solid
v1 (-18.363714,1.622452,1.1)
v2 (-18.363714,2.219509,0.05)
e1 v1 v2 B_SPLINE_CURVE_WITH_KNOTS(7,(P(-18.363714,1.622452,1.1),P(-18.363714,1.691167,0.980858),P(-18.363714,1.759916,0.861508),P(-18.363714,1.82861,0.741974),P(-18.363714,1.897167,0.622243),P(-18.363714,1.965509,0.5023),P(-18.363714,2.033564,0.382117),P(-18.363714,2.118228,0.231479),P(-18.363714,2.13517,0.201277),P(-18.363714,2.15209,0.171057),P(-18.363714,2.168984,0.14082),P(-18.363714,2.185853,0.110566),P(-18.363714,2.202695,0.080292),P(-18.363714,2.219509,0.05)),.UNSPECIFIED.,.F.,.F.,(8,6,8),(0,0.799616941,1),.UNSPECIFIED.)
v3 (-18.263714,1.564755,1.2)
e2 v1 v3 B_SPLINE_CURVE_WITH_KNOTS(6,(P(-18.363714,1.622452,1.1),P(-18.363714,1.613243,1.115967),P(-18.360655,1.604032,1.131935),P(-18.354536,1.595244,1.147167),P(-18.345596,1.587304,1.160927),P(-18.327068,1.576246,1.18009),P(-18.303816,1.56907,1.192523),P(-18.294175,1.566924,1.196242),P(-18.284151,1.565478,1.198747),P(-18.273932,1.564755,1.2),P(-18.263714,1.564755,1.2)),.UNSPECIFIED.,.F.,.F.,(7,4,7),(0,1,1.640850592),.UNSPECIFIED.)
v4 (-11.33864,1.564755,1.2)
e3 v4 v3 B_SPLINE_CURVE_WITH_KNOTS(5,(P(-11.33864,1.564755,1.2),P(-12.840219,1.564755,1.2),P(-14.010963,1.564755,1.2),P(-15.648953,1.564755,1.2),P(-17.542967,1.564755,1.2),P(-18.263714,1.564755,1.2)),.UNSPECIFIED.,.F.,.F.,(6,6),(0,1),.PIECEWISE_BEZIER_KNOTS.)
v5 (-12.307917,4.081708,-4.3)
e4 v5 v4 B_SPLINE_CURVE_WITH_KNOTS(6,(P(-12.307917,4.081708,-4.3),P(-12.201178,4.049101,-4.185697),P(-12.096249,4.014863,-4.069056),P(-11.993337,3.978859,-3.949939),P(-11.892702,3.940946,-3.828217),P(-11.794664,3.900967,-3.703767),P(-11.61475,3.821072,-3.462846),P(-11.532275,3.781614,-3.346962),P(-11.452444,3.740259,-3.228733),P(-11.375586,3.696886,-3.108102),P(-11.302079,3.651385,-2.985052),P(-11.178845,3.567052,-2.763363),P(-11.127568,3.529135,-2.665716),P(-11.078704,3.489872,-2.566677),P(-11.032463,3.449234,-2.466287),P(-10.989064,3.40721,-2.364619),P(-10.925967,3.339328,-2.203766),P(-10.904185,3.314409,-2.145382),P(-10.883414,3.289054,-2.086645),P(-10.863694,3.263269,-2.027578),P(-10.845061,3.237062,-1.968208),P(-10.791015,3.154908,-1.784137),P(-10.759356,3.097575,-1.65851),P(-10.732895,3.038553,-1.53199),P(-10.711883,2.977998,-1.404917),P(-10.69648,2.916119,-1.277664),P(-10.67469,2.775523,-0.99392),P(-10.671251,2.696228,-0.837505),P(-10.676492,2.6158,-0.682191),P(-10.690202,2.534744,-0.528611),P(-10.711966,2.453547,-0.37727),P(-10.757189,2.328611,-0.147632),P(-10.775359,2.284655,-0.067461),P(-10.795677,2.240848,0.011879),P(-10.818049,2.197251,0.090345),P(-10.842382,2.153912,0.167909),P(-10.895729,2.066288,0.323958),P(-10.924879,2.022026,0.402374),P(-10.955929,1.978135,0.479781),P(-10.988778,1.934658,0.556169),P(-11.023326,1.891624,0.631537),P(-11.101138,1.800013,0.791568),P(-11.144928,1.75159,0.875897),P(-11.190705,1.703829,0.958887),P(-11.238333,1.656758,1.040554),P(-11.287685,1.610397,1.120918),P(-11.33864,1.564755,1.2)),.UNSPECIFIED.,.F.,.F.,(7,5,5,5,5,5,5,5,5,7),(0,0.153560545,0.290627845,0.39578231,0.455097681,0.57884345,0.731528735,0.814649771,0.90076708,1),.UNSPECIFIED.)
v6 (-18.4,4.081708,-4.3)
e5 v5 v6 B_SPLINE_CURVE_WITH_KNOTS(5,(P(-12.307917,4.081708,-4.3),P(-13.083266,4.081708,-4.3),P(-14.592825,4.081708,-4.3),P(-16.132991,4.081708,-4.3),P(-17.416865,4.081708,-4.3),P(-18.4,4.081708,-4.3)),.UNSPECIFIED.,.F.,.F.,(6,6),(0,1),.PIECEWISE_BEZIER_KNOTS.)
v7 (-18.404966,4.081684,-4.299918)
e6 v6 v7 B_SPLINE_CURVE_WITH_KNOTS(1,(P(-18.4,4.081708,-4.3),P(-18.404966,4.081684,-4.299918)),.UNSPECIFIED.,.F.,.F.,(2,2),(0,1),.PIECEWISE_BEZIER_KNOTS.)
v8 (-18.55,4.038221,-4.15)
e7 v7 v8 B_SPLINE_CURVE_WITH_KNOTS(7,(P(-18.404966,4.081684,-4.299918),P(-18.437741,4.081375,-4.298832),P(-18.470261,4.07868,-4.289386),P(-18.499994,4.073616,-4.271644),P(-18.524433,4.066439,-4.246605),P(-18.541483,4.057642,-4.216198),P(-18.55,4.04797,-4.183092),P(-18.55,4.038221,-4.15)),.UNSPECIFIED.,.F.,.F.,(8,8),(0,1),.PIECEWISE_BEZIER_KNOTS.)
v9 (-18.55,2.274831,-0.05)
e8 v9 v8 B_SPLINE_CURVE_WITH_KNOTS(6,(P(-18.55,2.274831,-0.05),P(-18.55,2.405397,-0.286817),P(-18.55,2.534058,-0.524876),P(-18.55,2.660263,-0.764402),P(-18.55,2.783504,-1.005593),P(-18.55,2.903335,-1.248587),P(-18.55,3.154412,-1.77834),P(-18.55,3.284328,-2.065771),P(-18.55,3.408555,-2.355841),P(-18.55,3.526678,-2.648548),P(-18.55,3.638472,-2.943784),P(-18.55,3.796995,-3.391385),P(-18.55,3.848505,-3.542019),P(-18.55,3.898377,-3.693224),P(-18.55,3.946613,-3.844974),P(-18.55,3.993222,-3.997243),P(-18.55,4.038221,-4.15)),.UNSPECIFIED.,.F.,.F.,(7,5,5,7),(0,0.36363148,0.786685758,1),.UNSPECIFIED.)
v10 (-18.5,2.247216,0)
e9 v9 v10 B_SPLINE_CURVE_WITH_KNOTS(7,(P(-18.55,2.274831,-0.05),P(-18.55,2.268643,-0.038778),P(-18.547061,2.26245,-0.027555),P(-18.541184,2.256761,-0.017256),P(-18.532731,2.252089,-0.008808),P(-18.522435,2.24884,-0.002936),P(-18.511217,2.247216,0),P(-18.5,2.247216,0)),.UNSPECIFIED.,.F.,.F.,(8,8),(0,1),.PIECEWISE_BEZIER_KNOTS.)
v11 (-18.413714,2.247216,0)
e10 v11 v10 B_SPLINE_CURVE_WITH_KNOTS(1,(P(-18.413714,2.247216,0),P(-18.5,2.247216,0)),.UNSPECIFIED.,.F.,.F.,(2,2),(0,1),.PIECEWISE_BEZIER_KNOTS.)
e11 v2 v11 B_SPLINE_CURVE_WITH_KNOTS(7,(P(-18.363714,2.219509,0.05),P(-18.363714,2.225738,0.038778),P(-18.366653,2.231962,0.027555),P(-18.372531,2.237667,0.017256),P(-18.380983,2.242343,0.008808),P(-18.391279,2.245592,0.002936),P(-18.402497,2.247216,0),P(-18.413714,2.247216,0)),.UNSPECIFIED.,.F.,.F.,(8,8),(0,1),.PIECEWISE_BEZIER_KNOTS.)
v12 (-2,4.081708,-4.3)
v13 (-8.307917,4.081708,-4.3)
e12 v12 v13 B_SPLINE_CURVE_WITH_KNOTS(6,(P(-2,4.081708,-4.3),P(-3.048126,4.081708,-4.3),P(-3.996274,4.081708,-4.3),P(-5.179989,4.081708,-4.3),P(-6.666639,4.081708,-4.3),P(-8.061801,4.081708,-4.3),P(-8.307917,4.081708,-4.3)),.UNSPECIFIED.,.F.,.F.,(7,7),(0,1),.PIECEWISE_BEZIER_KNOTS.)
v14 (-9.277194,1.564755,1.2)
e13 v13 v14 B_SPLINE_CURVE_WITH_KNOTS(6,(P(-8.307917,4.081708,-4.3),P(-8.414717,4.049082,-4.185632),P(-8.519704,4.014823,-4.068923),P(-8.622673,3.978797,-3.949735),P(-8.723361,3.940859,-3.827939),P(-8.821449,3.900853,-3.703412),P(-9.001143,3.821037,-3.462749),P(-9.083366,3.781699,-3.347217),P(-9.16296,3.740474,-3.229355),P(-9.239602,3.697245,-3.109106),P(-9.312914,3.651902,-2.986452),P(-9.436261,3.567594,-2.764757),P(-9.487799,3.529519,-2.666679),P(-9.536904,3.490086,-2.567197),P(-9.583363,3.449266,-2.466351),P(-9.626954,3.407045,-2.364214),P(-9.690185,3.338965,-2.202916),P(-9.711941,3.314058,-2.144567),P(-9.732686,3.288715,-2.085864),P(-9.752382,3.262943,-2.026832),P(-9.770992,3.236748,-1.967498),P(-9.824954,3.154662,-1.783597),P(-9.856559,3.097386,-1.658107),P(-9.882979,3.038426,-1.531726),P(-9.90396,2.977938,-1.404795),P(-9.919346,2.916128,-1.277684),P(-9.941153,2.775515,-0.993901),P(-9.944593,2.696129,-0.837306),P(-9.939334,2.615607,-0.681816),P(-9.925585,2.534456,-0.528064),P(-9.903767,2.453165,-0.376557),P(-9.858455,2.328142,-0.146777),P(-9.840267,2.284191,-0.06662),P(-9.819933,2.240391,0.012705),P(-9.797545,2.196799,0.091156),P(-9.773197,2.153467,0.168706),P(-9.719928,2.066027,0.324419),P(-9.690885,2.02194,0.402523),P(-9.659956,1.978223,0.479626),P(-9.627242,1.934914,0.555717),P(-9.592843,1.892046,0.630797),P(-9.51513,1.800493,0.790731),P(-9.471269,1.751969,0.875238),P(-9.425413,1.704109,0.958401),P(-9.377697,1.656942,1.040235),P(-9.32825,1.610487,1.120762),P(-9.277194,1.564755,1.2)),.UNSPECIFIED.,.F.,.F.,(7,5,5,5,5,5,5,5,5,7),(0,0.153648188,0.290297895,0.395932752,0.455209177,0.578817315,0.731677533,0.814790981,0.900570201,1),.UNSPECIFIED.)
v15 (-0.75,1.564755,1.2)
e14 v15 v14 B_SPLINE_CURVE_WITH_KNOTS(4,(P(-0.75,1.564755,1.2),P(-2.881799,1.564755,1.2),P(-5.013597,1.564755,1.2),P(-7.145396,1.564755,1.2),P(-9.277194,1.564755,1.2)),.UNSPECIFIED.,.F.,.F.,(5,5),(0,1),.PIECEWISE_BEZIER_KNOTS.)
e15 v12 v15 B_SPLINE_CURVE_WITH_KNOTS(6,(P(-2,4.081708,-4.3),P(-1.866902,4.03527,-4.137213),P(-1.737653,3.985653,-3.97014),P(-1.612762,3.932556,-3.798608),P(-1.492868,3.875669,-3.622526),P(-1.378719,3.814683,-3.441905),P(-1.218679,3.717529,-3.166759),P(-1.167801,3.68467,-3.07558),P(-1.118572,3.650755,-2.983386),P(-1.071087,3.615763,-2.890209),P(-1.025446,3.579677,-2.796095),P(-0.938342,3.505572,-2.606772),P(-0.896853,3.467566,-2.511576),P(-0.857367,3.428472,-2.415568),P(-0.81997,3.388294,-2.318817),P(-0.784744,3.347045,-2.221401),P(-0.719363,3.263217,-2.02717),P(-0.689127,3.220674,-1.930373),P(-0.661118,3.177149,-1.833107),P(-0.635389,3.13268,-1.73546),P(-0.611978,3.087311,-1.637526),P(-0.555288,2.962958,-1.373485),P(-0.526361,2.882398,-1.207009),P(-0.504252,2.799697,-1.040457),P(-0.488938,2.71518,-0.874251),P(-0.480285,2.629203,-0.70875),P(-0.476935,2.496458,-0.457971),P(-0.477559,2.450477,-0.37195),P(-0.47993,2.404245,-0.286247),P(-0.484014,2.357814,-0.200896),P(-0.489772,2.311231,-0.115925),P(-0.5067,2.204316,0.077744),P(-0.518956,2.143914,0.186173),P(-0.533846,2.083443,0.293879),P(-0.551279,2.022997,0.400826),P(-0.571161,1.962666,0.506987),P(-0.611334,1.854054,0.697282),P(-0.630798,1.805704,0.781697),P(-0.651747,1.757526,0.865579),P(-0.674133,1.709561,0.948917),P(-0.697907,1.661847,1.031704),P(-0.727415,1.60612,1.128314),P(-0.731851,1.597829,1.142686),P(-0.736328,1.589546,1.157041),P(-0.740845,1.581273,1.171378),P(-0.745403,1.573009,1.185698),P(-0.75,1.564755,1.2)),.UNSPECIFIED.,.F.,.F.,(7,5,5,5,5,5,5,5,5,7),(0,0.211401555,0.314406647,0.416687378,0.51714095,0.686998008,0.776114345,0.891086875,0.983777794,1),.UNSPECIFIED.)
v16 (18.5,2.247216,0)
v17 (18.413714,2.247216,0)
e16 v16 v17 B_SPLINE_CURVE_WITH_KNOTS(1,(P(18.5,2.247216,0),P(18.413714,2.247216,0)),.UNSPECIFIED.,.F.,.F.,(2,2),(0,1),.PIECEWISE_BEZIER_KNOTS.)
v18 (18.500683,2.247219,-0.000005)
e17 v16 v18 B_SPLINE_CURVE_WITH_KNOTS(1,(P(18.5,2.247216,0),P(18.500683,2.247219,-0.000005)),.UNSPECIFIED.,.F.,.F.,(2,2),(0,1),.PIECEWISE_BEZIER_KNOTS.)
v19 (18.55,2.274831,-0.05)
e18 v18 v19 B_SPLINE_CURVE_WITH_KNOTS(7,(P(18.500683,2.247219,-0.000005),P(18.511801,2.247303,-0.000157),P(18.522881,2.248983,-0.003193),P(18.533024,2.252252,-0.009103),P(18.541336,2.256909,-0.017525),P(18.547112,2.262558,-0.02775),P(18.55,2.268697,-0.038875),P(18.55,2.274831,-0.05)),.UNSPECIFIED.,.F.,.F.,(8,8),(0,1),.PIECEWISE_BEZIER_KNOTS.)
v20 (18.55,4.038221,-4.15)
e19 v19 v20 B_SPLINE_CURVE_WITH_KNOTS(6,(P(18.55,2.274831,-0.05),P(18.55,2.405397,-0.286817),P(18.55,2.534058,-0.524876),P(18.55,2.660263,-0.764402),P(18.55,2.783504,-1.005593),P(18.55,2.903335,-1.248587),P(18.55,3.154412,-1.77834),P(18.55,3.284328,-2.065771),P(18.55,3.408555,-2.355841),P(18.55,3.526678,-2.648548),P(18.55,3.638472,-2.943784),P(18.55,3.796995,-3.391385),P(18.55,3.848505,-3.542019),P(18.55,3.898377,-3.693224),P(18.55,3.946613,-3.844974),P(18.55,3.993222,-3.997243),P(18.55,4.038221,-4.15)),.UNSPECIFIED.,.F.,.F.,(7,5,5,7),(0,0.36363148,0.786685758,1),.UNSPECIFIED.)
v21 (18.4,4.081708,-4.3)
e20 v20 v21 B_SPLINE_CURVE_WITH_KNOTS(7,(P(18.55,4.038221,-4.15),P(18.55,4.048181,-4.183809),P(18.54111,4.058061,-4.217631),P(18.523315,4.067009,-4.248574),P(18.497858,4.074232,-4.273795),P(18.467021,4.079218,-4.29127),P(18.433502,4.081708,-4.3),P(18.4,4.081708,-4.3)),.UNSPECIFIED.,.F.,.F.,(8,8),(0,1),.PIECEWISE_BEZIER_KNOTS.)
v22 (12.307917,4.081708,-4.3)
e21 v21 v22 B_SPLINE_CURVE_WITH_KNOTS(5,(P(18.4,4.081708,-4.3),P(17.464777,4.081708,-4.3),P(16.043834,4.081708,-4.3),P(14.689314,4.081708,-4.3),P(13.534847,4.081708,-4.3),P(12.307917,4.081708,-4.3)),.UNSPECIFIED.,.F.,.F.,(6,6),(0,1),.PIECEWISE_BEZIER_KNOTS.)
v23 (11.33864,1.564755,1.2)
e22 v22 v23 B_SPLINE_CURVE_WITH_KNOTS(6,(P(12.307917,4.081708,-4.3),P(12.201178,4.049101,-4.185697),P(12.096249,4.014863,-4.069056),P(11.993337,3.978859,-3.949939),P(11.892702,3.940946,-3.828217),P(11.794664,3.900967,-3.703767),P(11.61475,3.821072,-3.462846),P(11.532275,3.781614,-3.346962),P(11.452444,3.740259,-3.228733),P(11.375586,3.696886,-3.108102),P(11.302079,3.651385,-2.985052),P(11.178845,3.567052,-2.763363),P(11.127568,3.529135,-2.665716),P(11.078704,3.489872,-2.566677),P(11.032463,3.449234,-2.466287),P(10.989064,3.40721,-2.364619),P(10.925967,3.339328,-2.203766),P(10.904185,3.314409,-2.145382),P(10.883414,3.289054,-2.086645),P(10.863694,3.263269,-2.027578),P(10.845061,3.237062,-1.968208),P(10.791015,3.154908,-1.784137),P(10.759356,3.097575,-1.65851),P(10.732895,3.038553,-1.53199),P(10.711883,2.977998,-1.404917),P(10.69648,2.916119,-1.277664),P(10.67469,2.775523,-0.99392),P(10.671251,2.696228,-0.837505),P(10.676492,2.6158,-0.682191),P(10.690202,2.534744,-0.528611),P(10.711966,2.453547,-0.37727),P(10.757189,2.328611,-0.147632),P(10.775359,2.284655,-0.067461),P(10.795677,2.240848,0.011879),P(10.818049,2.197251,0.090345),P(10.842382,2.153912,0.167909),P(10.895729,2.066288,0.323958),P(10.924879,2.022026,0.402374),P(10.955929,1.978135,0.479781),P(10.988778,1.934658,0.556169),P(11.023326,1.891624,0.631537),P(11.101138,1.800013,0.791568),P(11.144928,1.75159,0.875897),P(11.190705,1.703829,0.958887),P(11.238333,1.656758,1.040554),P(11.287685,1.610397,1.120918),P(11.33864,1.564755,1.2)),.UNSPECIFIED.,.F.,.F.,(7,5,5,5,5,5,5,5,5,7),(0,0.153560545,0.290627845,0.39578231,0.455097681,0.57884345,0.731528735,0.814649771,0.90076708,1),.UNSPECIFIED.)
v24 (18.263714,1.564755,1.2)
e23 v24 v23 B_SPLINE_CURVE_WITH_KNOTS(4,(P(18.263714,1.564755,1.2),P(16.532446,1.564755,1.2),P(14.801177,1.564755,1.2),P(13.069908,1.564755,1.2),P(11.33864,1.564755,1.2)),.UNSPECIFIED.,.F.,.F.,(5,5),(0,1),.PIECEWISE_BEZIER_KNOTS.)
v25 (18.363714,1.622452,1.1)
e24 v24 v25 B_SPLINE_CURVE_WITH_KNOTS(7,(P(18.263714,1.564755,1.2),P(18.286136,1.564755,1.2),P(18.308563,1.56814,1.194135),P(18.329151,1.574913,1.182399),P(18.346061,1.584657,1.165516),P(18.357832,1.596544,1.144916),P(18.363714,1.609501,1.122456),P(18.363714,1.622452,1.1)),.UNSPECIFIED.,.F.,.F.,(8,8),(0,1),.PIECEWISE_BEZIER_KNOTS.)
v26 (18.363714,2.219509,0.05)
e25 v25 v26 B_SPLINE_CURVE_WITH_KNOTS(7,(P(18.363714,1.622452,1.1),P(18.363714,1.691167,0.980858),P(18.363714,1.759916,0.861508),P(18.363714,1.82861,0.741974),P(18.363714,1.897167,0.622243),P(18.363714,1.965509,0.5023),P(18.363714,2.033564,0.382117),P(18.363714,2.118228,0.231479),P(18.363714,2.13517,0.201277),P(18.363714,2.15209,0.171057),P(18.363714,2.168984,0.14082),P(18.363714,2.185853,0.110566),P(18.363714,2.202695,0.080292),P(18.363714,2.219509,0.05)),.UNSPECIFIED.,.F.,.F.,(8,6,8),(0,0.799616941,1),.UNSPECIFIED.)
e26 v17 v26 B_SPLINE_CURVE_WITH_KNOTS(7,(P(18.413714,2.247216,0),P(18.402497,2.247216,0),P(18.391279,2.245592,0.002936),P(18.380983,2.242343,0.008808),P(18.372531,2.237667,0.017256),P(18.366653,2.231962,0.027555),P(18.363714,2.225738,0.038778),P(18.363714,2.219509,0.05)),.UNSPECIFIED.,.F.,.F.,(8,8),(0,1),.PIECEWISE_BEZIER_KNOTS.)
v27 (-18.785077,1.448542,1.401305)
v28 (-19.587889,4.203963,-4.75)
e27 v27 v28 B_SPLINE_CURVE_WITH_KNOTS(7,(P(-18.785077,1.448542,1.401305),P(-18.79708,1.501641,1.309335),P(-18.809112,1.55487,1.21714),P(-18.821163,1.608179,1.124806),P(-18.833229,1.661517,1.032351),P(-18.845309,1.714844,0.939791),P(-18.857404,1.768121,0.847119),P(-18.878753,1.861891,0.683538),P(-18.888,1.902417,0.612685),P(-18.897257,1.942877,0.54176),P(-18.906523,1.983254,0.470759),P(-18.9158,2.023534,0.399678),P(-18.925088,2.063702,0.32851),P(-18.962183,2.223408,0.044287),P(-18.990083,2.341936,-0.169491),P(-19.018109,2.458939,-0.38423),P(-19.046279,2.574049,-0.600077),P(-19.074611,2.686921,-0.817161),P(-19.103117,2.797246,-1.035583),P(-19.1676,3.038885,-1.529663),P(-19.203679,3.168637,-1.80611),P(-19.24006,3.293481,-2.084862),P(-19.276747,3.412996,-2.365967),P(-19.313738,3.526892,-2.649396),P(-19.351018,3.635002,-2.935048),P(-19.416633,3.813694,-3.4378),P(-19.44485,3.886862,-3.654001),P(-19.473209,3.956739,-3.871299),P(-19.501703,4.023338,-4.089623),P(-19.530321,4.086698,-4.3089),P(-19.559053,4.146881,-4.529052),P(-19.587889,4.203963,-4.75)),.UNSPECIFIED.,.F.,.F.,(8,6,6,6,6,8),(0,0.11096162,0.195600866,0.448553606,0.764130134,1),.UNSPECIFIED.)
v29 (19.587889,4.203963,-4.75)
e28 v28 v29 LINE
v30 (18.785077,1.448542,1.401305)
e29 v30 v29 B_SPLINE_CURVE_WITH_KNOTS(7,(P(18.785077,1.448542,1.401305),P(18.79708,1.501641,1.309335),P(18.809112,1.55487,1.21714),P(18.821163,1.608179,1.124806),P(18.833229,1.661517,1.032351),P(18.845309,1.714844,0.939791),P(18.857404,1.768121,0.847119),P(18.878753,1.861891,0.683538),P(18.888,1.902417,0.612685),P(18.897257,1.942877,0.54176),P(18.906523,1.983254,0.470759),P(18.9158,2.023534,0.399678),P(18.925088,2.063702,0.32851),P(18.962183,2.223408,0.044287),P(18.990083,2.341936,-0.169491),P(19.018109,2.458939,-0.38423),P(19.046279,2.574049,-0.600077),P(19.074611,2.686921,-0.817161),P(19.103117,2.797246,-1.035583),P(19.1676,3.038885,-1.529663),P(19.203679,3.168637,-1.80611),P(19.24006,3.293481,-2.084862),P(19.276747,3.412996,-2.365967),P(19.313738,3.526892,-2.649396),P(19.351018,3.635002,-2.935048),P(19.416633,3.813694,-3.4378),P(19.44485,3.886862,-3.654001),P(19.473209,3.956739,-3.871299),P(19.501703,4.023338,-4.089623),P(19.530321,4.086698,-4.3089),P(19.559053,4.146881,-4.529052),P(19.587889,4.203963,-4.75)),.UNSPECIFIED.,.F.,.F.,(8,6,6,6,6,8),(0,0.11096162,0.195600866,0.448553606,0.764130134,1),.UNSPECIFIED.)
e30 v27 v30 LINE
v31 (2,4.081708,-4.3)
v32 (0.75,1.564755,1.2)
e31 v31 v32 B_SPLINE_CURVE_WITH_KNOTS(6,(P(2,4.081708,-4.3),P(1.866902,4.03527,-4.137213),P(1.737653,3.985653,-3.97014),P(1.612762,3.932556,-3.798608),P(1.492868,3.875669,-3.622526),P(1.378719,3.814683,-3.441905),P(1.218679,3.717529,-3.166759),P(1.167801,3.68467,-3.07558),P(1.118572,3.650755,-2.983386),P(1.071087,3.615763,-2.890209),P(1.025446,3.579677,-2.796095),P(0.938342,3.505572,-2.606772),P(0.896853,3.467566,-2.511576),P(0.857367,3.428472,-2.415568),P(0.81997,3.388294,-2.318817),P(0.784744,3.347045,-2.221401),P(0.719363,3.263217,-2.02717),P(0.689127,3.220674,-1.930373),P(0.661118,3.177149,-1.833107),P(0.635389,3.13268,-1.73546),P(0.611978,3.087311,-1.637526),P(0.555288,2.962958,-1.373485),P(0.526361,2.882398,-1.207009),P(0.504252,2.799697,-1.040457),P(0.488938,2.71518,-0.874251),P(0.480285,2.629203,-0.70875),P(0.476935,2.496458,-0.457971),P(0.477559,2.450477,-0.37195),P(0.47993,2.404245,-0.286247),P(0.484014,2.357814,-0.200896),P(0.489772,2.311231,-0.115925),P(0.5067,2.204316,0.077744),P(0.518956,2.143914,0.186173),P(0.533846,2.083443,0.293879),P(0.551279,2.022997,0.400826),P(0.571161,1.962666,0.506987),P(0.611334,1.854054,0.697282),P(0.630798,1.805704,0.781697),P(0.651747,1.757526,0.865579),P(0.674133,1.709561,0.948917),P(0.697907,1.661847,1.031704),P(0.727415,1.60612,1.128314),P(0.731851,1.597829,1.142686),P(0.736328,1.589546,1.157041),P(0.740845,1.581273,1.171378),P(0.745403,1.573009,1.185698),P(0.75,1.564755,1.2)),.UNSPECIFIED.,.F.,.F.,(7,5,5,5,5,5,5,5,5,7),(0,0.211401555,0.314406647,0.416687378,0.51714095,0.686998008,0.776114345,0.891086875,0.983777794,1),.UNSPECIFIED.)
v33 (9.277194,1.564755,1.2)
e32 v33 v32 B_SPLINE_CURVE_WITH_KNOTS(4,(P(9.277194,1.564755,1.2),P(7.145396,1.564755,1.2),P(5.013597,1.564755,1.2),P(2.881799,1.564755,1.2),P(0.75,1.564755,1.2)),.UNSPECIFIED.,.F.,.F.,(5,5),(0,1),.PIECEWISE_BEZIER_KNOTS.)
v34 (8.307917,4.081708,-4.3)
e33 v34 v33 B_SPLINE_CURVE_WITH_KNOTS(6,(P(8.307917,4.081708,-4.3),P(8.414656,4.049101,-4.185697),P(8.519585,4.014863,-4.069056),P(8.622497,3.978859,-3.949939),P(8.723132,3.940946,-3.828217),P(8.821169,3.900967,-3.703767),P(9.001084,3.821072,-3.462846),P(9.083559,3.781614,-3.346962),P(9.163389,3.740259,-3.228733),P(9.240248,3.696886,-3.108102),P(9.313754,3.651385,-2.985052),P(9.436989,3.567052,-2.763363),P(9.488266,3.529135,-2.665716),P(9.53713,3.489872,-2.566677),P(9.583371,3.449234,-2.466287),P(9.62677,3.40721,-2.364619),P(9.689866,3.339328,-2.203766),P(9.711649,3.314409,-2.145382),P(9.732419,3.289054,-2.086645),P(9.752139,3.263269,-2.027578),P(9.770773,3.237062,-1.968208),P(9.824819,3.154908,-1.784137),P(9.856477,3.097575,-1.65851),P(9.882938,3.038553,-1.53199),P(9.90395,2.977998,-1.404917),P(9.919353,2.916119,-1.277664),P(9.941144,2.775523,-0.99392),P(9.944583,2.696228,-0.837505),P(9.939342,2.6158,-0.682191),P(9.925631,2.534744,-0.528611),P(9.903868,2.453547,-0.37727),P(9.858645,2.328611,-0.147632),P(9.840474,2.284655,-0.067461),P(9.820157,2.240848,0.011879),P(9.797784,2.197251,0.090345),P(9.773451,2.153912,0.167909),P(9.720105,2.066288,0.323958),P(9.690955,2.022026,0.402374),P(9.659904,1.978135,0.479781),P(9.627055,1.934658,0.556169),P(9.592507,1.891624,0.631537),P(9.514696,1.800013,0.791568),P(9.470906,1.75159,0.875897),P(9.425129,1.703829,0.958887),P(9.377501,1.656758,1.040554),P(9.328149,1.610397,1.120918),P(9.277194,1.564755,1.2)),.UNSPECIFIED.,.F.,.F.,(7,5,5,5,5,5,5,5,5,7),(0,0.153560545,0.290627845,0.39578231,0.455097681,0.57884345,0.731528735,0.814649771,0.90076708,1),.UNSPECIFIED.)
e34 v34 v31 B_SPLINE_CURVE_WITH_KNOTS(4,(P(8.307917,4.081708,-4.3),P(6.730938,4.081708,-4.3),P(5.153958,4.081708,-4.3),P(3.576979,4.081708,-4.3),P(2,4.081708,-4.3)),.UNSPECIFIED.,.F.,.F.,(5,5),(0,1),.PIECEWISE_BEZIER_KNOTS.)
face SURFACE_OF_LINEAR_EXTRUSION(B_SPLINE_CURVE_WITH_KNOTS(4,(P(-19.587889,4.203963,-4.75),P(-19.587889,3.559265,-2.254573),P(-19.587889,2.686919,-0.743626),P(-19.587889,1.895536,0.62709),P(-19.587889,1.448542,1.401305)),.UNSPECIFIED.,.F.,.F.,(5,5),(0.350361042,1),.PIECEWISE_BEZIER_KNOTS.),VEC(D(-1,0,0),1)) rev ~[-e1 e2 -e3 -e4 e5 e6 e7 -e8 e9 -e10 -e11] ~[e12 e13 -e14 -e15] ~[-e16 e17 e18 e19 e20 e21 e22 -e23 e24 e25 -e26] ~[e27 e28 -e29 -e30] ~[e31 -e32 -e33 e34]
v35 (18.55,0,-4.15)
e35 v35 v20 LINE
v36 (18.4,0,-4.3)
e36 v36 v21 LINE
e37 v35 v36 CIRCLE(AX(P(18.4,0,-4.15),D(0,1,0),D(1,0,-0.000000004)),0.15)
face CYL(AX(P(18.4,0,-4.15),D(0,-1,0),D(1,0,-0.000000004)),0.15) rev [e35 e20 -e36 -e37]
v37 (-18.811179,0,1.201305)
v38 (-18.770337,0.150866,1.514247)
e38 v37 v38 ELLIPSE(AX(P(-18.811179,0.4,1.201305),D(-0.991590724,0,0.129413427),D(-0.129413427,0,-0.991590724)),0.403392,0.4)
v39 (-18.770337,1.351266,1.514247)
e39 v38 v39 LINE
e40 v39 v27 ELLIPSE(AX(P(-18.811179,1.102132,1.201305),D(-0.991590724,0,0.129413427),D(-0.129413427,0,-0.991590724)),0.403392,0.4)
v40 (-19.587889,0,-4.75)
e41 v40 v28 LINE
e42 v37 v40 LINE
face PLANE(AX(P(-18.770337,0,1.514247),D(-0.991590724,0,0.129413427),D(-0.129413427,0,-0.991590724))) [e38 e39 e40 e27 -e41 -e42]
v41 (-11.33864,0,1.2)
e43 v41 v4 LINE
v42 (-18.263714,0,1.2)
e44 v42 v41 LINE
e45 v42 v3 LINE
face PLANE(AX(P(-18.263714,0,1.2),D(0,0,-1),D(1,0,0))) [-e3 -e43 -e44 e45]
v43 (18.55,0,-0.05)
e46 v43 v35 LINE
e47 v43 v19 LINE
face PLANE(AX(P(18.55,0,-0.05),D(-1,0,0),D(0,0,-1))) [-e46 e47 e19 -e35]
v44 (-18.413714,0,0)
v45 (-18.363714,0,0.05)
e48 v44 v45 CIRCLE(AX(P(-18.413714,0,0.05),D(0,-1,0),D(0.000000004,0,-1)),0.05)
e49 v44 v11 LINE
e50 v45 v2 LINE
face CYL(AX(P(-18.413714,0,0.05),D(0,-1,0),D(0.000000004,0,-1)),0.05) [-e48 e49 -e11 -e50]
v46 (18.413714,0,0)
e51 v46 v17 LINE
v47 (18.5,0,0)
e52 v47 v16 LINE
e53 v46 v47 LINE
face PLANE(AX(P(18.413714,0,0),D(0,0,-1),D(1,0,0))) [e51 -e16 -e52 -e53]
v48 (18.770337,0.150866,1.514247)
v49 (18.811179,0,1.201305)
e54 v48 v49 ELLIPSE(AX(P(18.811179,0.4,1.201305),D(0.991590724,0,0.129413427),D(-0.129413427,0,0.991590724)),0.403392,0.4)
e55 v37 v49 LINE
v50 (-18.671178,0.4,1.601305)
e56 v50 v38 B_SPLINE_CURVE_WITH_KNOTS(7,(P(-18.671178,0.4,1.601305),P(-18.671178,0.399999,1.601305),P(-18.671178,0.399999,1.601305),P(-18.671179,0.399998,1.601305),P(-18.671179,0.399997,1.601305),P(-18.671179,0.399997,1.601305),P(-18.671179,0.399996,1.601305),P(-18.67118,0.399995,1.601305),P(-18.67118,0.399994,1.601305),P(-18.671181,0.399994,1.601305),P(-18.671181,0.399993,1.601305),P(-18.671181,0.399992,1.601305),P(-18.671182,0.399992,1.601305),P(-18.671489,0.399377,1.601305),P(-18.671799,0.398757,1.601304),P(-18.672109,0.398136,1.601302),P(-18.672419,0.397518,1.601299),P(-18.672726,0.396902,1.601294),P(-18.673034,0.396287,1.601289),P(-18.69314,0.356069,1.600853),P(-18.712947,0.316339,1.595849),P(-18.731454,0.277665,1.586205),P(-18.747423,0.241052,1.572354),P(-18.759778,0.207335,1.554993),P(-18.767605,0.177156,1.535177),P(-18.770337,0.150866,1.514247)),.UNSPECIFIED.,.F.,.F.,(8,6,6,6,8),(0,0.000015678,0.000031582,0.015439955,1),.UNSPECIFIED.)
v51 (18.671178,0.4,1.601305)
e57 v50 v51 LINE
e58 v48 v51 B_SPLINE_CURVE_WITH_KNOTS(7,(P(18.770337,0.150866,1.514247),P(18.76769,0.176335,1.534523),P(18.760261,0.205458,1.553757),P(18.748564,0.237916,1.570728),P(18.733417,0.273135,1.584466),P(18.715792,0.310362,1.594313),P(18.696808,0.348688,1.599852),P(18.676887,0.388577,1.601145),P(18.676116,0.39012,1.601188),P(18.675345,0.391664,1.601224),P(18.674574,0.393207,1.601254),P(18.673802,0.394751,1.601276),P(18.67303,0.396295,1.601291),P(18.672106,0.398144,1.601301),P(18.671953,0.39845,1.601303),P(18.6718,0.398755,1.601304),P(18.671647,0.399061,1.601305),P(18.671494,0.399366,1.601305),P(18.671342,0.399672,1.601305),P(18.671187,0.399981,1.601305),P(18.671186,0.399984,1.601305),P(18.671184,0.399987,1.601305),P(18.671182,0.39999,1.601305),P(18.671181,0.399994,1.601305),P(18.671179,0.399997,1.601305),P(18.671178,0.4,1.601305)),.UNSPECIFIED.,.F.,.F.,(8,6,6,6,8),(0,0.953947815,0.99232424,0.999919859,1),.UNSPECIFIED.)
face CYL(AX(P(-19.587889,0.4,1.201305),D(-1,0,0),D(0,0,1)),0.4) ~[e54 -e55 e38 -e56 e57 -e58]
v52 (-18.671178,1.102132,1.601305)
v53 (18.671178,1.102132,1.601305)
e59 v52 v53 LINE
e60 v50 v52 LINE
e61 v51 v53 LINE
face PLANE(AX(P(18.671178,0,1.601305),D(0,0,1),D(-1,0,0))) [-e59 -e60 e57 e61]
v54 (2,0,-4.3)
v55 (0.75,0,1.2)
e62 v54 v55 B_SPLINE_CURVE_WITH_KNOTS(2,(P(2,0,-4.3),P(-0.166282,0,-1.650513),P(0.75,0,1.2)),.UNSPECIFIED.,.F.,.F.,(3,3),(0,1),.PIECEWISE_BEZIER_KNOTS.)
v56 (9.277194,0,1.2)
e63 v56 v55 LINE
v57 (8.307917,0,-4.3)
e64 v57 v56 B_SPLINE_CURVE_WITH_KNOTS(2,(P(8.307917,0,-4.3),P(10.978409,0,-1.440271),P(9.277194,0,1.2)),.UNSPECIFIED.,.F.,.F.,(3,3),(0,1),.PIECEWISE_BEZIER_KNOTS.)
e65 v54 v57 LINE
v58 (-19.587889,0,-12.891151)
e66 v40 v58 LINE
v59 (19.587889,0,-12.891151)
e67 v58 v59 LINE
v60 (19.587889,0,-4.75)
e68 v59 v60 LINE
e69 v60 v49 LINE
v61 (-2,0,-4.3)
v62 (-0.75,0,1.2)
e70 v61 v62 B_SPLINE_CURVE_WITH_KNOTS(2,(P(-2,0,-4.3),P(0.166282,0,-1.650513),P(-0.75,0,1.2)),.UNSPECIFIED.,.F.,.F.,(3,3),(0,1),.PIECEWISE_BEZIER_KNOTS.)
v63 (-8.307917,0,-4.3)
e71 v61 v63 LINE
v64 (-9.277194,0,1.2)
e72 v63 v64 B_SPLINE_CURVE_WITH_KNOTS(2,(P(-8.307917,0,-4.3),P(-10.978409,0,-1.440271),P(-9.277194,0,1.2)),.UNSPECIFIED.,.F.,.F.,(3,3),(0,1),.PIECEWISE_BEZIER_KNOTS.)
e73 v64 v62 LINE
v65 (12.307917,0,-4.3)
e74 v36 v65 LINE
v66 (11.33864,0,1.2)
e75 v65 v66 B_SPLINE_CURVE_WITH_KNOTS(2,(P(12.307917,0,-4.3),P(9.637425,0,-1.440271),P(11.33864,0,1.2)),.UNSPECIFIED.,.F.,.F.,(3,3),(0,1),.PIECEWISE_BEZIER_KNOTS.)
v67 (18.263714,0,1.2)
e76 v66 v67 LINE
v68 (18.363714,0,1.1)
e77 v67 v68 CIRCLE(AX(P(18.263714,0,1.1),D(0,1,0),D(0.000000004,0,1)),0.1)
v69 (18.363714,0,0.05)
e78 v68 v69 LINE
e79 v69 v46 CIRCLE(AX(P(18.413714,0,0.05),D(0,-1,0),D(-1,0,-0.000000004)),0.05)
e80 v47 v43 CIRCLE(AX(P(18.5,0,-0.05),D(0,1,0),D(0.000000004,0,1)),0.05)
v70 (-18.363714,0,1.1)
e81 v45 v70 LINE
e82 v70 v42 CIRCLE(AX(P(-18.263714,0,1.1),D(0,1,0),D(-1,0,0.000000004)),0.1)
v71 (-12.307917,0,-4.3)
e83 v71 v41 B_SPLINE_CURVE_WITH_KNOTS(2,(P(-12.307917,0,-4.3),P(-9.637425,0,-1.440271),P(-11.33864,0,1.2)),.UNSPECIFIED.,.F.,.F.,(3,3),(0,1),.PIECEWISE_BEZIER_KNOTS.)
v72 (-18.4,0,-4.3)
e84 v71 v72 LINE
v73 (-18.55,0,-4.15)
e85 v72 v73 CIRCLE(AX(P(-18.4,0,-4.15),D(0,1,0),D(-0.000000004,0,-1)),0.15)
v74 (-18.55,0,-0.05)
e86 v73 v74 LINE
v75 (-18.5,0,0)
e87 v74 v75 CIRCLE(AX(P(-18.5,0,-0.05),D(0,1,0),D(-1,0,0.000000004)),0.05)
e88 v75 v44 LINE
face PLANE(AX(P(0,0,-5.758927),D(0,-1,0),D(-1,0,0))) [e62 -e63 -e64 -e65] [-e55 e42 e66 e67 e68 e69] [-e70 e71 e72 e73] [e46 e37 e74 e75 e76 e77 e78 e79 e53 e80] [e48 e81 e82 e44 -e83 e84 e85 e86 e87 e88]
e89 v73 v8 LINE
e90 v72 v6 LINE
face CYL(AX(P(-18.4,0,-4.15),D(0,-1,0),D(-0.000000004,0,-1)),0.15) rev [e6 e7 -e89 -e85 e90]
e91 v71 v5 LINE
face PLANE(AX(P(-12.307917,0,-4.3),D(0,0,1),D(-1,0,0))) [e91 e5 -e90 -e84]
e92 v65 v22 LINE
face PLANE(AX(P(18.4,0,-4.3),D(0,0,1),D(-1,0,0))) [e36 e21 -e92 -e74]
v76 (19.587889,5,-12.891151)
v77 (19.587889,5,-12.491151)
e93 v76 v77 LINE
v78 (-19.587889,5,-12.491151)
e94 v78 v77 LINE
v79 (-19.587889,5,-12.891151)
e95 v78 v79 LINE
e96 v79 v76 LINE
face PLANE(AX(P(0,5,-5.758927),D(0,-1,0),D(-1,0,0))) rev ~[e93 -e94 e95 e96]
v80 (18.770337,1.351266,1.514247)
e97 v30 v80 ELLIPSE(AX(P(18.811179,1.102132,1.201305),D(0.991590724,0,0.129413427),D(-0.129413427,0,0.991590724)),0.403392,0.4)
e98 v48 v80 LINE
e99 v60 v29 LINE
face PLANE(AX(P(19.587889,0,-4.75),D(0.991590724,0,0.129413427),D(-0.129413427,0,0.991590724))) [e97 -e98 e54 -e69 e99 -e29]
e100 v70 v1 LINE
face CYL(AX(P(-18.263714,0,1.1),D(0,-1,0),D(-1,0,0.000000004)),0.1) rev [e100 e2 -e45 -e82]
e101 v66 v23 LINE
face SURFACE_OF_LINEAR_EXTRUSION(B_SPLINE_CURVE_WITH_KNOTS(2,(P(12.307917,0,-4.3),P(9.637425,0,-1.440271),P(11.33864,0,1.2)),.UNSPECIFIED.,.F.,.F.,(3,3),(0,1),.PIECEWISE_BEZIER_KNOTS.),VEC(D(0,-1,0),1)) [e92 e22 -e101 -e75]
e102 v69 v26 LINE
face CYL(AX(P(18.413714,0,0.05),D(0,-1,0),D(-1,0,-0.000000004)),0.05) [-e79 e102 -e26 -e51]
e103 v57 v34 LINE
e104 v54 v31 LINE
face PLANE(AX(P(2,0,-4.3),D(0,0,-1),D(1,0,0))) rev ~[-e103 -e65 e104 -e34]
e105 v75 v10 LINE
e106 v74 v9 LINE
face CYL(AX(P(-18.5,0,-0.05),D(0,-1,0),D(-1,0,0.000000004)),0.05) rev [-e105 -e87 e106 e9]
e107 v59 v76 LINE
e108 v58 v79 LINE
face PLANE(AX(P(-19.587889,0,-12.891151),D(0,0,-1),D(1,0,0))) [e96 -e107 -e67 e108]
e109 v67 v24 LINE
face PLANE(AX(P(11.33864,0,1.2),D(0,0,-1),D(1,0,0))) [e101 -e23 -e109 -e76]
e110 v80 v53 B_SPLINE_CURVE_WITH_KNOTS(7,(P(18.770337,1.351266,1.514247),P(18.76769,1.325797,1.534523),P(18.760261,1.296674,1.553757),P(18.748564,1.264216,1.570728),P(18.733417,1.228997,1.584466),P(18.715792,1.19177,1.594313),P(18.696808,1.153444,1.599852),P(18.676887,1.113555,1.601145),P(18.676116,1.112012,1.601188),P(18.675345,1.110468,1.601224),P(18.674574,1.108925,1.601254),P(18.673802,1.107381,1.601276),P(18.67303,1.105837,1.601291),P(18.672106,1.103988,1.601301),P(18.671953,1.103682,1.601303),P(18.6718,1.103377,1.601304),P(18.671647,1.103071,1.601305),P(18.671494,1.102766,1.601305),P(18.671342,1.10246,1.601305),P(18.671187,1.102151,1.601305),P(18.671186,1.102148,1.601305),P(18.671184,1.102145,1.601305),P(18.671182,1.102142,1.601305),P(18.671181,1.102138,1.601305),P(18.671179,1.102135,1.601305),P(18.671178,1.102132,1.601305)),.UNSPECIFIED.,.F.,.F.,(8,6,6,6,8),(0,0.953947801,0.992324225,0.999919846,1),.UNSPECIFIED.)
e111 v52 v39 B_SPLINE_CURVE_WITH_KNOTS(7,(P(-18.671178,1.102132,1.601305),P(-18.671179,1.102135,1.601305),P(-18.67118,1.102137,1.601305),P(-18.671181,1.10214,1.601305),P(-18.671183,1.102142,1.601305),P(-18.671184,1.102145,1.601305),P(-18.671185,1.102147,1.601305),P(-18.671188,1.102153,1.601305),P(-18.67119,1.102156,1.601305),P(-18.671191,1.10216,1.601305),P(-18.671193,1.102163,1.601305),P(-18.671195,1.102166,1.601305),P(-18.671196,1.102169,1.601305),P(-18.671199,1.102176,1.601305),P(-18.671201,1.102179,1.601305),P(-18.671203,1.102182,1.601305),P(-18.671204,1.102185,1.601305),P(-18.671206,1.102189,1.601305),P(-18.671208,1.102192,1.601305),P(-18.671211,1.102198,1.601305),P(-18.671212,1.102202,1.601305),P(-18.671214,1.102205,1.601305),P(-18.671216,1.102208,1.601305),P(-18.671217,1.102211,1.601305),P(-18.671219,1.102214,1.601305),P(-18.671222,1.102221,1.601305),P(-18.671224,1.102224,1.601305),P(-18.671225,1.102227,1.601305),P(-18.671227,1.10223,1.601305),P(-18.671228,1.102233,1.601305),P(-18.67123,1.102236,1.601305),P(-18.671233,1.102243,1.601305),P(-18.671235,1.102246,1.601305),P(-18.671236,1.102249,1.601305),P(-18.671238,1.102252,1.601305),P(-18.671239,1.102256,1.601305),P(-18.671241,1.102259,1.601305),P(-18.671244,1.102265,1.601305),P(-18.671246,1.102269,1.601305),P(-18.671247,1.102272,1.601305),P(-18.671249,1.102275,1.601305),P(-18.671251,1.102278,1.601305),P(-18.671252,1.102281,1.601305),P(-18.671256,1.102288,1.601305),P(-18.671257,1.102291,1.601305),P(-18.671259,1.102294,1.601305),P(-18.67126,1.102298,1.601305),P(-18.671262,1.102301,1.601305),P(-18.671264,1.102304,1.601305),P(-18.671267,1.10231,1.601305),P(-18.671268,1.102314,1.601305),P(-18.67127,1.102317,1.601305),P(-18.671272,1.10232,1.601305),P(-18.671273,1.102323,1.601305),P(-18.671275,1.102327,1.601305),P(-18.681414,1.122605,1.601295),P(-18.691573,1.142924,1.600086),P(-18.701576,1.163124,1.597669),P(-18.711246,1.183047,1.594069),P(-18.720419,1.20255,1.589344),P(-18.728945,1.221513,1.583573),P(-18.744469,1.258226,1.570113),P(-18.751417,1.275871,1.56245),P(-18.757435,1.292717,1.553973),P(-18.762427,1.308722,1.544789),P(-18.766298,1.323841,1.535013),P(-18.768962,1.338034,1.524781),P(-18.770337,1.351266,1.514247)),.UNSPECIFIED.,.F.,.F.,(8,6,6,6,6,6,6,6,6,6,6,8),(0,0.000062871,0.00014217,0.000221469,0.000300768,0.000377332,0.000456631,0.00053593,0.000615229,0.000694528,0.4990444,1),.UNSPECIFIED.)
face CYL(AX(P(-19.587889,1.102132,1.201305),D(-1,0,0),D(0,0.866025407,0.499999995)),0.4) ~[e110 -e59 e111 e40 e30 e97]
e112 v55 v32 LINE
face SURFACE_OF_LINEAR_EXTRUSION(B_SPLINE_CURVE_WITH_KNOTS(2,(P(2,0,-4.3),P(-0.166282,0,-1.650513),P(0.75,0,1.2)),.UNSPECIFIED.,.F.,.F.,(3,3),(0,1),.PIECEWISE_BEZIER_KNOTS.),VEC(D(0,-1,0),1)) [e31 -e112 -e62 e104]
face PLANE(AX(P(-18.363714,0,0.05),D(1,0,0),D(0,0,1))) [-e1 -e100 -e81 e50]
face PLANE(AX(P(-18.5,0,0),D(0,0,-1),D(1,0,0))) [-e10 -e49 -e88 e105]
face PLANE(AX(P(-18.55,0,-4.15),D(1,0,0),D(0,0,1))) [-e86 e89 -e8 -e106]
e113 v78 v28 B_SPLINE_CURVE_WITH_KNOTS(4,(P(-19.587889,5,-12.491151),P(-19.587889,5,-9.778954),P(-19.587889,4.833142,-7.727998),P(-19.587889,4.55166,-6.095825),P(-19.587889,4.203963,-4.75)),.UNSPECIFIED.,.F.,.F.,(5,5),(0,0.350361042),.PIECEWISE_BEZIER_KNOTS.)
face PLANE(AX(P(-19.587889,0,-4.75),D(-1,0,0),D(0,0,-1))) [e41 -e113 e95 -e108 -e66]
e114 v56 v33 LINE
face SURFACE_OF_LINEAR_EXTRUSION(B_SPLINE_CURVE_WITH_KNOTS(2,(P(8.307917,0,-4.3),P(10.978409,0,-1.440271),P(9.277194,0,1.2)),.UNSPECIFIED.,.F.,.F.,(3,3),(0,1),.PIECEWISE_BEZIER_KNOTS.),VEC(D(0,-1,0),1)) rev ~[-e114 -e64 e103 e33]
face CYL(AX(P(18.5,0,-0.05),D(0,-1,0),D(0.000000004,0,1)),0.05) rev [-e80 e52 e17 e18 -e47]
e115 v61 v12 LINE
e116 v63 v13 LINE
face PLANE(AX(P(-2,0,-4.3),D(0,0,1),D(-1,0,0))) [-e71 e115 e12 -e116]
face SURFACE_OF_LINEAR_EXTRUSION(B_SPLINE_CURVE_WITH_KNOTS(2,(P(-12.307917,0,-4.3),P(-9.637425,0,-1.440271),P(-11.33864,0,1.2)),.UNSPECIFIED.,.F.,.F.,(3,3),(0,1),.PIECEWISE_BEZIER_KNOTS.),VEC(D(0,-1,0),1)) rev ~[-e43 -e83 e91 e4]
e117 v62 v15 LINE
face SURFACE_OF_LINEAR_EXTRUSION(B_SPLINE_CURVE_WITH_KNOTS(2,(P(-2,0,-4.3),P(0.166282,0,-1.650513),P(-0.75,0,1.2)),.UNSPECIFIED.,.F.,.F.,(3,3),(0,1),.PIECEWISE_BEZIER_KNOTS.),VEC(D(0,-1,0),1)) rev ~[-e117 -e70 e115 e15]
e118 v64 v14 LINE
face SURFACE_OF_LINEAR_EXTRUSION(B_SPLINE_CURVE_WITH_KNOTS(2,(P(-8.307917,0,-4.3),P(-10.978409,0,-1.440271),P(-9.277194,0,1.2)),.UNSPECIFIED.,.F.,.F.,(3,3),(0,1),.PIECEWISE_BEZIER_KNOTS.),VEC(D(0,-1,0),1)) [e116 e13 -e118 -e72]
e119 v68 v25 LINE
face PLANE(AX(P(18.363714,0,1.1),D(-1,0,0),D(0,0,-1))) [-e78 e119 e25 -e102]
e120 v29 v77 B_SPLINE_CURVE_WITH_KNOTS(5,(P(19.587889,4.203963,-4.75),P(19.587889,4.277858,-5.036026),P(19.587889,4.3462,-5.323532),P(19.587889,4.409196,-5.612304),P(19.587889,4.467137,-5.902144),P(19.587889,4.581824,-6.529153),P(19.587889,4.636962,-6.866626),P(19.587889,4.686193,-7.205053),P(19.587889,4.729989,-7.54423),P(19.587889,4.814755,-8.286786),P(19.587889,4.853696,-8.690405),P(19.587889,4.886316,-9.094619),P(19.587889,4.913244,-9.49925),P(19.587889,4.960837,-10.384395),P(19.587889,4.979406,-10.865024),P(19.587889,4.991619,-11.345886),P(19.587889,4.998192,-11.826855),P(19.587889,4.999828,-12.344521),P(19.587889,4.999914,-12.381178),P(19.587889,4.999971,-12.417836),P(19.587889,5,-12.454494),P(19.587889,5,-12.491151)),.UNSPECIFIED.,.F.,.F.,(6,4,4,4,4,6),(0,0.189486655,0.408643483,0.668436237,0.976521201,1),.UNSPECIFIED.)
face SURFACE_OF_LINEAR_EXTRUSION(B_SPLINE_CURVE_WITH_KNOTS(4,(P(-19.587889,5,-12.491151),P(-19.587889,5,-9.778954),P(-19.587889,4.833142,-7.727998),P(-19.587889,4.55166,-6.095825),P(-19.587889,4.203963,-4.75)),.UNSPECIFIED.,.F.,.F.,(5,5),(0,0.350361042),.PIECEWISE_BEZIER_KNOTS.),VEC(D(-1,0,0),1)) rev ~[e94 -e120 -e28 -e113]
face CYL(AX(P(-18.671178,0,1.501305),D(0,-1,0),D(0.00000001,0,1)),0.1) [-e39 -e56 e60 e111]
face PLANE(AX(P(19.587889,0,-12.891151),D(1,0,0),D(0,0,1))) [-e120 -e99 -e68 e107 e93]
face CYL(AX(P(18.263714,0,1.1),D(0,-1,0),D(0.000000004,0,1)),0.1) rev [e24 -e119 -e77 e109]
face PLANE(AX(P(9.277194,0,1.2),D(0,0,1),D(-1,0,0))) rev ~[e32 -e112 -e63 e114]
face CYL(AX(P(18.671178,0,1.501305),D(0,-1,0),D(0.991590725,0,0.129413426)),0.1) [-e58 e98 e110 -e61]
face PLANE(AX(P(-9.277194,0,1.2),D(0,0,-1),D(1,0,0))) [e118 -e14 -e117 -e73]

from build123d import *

# Parameters (mm, degrees)
BOSS_EXTRUDE1_DEPTH = 5
SKETCH5_W           = 39.175778664
SKETCH5_H           = 11.134274613
CUT_REVOLVE3_ANGLE  = 30
CUT_EXTRUDE2_DEPTH  = 50


with BuildPart() as part:
    # Sketch2 → Boss-Extrude1 (new body)
    with BuildSketch(Plane(origin=(0, 0, 0), x_dir=(1, 0, 0), z_dir=(0, 1, 0))):
        with BuildLine():
            Line((-19.587889332, 4.75), (-19.587889332, 12.891151468))
            Line((-19.587889332, 12.891151468), (19.587889332, 12.891151468))
            Line((19.587889332, 12.891151468), (19.587889332, 4.75))
            Line((19.587889332, 4.75), (18.770336665, -1.514246746))
            ThreePointArc((18.770336665, -1.514246746), (18.737154352, -1.576452374), (18.671177592, -1.601305403))
            Line((18.671177592, -1.601305403), (-18.671177592, -1.601305403))
            ThreePointArc((-18.671177592, -1.601305403), (-18.737154352, -1.576452374), (-18.770336665, -1.514246746))
            Line((-18.770336665, -1.514246746), (-19.587889332, 4.75))
        make_face()
        with BuildLine():
            Line((18.41371442, 0), (18.5, 0))
            ThreePointArc((18.5, 0), (18.535355339, 0.014644661), (18.55, 0.05))
            Line((18.55, 0.05), (18.55, 4.15))
            ThreePointArc((18.55, 4.15), (18.506066017, 4.256066017), (18.4, 4.3))
            Line((18.4, 4.3), (12.307916791, 4.3))
            add(Edge.make_bspline(
                [(12.307916791, 4.3), (9.637425056, 1.440271055), (11.338639539, -1.2)],
                knots=[0, 0, 0, 1, 1, 1], degree=2))
            Line((11.338639539, -1.2), (18.26371442, -1.2))
            ThreePointArc((18.26371442, -1.2), (18.334425098, -1.170710678), (18.36371442, -1.1))
            Line((18.36371442, -1.1), (18.36371442, -0.05))
            ThreePointArc((18.36371442, -0.05), (18.378359081, -0.014644661), (18.41371442, 0))
        make_face(mode=Mode.SUBTRACT)
        with BuildLine():
            Line((-2, 4.3), (-8.307916791, 4.3))
            add(Edge.make_bspline(
                [(-8.307916791, 4.3), (-10.978408526, 1.440271055), (-9.277194043, -1.2)],
                knots=[0, 0, 0, 1, 1, 1], degree=2))
            Line((-9.277194043, -1.2), (-0.75, -1.2))
            add(Edge.make_bspline(
                [(-2, 4.3), (0.166282415, 1.650512873), (-0.75, -1.2)],
                knots=[0, 0, 0, 1, 1, 1], degree=2))
        make_face(mode=Mode.SUBTRACT)
        with BuildLine():
            Line((9.277194043, -1.2), (0.75, -1.2))
            add(Edge.make_bspline(
                [(2, 4.3), (-0.166282415, 1.650512873), (0.75, -1.2)],
                knots=[0, 0, 0, 1, 1, 1], degree=2))
            Line((2, 4.3), (8.307916791, 4.3))
            add(Edge.make_bspline(
                [(8.307916791, 4.3), (10.978408526, 1.440271055), (9.277194043, -1.2)],
                knots=[0, 0, 0, 1, 1, 1], degree=2))
        make_face(mode=Mode.SUBTRACT)
        with BuildLine():
            Line((-12.307916791, 4.3), (-18.4, 4.3))
            ThreePointArc((-18.4, 4.3), (-18.506066017, 4.256066017), (-18.55, 4.15))
            Line((-18.55, 4.15), (-18.55, 0.05))
            ThreePointArc((-18.55, 0.05), (-18.535355339, 0.014644661), (-18.5, 0))
            Line((-18.5, 0), (-18.41371442, 0))
            ThreePointArc((-18.41371442, 0), (-18.378359081, -0.014644661), (-18.36371442, -0.05))
            Line((-18.36371442, -0.05), (-18.36371442, -1.1))
            ThreePointArc((-18.36371442, -1.1), (-18.334425098, -1.170710678), (-18.26371442, -1.2))
            Line((-18.26371442, -1.2), (-11.338639539, -1.2))
            add(Edge.make_bspline(
                [(-12.307916791, 4.3), (-9.637425056, 1.440271055), (-11.338639539, -1.2)],
                knots=[0, 0, 0, 1, 1, 1], degree=2))
        make_face(mode=Mode.SUBTRACT)
    extrude(amount=BOSS_EXTRUDE1_DEPTH)

    # Sketch5 → Cut-Revolve3 (revolve, cut)
    with BuildSketch(Plane(origin=(0, 5, 0), x_dir=(1, 0, 0), z_dir=(0, 1, 0))):
        with Locations((0, -0.817137307)):
            Rectangle(SKETCH5_W, SKETCH5_H)
    revolve(axis=Axis((-19.587889332, 5, -4.75), (1, 0, 0)), revolution_arc=CUT_REVOLVE3_ANGLE, mode=Mode.SUBTRACT)

    # Sketch8 → Cut-Extrude2 (cut)
    with BuildSketch(Plane.ZY.offset(19.587889332)):
        Polygon((4.230476996, 7.111214782), (-14.213063749, 7.925673134), (-16.866621606, -3.135196744), (3.547382894, -3.844563695), align=None)
        with BuildLine():
            Line((-12.891151468, 0), (-12.891151468, 0.4))
            Line((-12.891151468, 0.4), (-12.891151468, 4.6))
            Line((-12.891151468, 4.6), (-12.891151468, 5))
            Line((-12.891151468, 5), (-12.491151468, 5))
            Line((-12.491151468, 5), (-4.75, 5))
            Line((-4.75, 5), (-4.75, 4.203963132))
            add(Edge.make_bspline(
                [(-4.75, 4.203963132), (-2.254573222, 3.559264678), (-0.743625983, 2.686918883), (0.627090158, 1.89553555), (1.401305403, 1.448542169)],
                knots=[0.350361042, 0.350361042, 0.350361042, 0.350361042, 0.350361042, 1, 1, 1, 1, 1], degree=4))
            ThreePointArc((1.401305403, 1.448542169), (1.547715565, 1.302132008), (1.601305403, 1.102132008))
            Line((1.601305403, 1.102132008), (1.601305403, 0.4))
            ThreePointArc((1.601305403, 0.4), (1.484148116, 0.117157288), (1.201305403, 0))
            Line((1.201305403, 0), (-4.75, 0))
            Line((-4.75, 0), (-12.491151468, 0))
            Line((-12.491151468, 0), (-12.891151468, 0))
        make_face(mode=Mode.SUBTRACT)
        with BuildLine():
            Line((-4.75, 5), (-12.491151468, 5))
            add(Edge.make_bspline(
                [(-12.491151468, 5), (-9.778953574, 5), (-7.727997949, 4.833142186), (-6.095824962, 4.551659678), (-4.75, 4.203963132)],
                knots=[0, 0, 0, 0, 0, 0.350361042, 0.350361042, 0.350361042, 0.350361042, 0.350361042], degree=4))
            Line((-4.75, 4.203963132), (-4.75, 5))
        make_face()
    extrude(amount=-CUT_EXTRUDE2_DEPTH, mode=Mode.SUBTRACT)


solid = part.part
